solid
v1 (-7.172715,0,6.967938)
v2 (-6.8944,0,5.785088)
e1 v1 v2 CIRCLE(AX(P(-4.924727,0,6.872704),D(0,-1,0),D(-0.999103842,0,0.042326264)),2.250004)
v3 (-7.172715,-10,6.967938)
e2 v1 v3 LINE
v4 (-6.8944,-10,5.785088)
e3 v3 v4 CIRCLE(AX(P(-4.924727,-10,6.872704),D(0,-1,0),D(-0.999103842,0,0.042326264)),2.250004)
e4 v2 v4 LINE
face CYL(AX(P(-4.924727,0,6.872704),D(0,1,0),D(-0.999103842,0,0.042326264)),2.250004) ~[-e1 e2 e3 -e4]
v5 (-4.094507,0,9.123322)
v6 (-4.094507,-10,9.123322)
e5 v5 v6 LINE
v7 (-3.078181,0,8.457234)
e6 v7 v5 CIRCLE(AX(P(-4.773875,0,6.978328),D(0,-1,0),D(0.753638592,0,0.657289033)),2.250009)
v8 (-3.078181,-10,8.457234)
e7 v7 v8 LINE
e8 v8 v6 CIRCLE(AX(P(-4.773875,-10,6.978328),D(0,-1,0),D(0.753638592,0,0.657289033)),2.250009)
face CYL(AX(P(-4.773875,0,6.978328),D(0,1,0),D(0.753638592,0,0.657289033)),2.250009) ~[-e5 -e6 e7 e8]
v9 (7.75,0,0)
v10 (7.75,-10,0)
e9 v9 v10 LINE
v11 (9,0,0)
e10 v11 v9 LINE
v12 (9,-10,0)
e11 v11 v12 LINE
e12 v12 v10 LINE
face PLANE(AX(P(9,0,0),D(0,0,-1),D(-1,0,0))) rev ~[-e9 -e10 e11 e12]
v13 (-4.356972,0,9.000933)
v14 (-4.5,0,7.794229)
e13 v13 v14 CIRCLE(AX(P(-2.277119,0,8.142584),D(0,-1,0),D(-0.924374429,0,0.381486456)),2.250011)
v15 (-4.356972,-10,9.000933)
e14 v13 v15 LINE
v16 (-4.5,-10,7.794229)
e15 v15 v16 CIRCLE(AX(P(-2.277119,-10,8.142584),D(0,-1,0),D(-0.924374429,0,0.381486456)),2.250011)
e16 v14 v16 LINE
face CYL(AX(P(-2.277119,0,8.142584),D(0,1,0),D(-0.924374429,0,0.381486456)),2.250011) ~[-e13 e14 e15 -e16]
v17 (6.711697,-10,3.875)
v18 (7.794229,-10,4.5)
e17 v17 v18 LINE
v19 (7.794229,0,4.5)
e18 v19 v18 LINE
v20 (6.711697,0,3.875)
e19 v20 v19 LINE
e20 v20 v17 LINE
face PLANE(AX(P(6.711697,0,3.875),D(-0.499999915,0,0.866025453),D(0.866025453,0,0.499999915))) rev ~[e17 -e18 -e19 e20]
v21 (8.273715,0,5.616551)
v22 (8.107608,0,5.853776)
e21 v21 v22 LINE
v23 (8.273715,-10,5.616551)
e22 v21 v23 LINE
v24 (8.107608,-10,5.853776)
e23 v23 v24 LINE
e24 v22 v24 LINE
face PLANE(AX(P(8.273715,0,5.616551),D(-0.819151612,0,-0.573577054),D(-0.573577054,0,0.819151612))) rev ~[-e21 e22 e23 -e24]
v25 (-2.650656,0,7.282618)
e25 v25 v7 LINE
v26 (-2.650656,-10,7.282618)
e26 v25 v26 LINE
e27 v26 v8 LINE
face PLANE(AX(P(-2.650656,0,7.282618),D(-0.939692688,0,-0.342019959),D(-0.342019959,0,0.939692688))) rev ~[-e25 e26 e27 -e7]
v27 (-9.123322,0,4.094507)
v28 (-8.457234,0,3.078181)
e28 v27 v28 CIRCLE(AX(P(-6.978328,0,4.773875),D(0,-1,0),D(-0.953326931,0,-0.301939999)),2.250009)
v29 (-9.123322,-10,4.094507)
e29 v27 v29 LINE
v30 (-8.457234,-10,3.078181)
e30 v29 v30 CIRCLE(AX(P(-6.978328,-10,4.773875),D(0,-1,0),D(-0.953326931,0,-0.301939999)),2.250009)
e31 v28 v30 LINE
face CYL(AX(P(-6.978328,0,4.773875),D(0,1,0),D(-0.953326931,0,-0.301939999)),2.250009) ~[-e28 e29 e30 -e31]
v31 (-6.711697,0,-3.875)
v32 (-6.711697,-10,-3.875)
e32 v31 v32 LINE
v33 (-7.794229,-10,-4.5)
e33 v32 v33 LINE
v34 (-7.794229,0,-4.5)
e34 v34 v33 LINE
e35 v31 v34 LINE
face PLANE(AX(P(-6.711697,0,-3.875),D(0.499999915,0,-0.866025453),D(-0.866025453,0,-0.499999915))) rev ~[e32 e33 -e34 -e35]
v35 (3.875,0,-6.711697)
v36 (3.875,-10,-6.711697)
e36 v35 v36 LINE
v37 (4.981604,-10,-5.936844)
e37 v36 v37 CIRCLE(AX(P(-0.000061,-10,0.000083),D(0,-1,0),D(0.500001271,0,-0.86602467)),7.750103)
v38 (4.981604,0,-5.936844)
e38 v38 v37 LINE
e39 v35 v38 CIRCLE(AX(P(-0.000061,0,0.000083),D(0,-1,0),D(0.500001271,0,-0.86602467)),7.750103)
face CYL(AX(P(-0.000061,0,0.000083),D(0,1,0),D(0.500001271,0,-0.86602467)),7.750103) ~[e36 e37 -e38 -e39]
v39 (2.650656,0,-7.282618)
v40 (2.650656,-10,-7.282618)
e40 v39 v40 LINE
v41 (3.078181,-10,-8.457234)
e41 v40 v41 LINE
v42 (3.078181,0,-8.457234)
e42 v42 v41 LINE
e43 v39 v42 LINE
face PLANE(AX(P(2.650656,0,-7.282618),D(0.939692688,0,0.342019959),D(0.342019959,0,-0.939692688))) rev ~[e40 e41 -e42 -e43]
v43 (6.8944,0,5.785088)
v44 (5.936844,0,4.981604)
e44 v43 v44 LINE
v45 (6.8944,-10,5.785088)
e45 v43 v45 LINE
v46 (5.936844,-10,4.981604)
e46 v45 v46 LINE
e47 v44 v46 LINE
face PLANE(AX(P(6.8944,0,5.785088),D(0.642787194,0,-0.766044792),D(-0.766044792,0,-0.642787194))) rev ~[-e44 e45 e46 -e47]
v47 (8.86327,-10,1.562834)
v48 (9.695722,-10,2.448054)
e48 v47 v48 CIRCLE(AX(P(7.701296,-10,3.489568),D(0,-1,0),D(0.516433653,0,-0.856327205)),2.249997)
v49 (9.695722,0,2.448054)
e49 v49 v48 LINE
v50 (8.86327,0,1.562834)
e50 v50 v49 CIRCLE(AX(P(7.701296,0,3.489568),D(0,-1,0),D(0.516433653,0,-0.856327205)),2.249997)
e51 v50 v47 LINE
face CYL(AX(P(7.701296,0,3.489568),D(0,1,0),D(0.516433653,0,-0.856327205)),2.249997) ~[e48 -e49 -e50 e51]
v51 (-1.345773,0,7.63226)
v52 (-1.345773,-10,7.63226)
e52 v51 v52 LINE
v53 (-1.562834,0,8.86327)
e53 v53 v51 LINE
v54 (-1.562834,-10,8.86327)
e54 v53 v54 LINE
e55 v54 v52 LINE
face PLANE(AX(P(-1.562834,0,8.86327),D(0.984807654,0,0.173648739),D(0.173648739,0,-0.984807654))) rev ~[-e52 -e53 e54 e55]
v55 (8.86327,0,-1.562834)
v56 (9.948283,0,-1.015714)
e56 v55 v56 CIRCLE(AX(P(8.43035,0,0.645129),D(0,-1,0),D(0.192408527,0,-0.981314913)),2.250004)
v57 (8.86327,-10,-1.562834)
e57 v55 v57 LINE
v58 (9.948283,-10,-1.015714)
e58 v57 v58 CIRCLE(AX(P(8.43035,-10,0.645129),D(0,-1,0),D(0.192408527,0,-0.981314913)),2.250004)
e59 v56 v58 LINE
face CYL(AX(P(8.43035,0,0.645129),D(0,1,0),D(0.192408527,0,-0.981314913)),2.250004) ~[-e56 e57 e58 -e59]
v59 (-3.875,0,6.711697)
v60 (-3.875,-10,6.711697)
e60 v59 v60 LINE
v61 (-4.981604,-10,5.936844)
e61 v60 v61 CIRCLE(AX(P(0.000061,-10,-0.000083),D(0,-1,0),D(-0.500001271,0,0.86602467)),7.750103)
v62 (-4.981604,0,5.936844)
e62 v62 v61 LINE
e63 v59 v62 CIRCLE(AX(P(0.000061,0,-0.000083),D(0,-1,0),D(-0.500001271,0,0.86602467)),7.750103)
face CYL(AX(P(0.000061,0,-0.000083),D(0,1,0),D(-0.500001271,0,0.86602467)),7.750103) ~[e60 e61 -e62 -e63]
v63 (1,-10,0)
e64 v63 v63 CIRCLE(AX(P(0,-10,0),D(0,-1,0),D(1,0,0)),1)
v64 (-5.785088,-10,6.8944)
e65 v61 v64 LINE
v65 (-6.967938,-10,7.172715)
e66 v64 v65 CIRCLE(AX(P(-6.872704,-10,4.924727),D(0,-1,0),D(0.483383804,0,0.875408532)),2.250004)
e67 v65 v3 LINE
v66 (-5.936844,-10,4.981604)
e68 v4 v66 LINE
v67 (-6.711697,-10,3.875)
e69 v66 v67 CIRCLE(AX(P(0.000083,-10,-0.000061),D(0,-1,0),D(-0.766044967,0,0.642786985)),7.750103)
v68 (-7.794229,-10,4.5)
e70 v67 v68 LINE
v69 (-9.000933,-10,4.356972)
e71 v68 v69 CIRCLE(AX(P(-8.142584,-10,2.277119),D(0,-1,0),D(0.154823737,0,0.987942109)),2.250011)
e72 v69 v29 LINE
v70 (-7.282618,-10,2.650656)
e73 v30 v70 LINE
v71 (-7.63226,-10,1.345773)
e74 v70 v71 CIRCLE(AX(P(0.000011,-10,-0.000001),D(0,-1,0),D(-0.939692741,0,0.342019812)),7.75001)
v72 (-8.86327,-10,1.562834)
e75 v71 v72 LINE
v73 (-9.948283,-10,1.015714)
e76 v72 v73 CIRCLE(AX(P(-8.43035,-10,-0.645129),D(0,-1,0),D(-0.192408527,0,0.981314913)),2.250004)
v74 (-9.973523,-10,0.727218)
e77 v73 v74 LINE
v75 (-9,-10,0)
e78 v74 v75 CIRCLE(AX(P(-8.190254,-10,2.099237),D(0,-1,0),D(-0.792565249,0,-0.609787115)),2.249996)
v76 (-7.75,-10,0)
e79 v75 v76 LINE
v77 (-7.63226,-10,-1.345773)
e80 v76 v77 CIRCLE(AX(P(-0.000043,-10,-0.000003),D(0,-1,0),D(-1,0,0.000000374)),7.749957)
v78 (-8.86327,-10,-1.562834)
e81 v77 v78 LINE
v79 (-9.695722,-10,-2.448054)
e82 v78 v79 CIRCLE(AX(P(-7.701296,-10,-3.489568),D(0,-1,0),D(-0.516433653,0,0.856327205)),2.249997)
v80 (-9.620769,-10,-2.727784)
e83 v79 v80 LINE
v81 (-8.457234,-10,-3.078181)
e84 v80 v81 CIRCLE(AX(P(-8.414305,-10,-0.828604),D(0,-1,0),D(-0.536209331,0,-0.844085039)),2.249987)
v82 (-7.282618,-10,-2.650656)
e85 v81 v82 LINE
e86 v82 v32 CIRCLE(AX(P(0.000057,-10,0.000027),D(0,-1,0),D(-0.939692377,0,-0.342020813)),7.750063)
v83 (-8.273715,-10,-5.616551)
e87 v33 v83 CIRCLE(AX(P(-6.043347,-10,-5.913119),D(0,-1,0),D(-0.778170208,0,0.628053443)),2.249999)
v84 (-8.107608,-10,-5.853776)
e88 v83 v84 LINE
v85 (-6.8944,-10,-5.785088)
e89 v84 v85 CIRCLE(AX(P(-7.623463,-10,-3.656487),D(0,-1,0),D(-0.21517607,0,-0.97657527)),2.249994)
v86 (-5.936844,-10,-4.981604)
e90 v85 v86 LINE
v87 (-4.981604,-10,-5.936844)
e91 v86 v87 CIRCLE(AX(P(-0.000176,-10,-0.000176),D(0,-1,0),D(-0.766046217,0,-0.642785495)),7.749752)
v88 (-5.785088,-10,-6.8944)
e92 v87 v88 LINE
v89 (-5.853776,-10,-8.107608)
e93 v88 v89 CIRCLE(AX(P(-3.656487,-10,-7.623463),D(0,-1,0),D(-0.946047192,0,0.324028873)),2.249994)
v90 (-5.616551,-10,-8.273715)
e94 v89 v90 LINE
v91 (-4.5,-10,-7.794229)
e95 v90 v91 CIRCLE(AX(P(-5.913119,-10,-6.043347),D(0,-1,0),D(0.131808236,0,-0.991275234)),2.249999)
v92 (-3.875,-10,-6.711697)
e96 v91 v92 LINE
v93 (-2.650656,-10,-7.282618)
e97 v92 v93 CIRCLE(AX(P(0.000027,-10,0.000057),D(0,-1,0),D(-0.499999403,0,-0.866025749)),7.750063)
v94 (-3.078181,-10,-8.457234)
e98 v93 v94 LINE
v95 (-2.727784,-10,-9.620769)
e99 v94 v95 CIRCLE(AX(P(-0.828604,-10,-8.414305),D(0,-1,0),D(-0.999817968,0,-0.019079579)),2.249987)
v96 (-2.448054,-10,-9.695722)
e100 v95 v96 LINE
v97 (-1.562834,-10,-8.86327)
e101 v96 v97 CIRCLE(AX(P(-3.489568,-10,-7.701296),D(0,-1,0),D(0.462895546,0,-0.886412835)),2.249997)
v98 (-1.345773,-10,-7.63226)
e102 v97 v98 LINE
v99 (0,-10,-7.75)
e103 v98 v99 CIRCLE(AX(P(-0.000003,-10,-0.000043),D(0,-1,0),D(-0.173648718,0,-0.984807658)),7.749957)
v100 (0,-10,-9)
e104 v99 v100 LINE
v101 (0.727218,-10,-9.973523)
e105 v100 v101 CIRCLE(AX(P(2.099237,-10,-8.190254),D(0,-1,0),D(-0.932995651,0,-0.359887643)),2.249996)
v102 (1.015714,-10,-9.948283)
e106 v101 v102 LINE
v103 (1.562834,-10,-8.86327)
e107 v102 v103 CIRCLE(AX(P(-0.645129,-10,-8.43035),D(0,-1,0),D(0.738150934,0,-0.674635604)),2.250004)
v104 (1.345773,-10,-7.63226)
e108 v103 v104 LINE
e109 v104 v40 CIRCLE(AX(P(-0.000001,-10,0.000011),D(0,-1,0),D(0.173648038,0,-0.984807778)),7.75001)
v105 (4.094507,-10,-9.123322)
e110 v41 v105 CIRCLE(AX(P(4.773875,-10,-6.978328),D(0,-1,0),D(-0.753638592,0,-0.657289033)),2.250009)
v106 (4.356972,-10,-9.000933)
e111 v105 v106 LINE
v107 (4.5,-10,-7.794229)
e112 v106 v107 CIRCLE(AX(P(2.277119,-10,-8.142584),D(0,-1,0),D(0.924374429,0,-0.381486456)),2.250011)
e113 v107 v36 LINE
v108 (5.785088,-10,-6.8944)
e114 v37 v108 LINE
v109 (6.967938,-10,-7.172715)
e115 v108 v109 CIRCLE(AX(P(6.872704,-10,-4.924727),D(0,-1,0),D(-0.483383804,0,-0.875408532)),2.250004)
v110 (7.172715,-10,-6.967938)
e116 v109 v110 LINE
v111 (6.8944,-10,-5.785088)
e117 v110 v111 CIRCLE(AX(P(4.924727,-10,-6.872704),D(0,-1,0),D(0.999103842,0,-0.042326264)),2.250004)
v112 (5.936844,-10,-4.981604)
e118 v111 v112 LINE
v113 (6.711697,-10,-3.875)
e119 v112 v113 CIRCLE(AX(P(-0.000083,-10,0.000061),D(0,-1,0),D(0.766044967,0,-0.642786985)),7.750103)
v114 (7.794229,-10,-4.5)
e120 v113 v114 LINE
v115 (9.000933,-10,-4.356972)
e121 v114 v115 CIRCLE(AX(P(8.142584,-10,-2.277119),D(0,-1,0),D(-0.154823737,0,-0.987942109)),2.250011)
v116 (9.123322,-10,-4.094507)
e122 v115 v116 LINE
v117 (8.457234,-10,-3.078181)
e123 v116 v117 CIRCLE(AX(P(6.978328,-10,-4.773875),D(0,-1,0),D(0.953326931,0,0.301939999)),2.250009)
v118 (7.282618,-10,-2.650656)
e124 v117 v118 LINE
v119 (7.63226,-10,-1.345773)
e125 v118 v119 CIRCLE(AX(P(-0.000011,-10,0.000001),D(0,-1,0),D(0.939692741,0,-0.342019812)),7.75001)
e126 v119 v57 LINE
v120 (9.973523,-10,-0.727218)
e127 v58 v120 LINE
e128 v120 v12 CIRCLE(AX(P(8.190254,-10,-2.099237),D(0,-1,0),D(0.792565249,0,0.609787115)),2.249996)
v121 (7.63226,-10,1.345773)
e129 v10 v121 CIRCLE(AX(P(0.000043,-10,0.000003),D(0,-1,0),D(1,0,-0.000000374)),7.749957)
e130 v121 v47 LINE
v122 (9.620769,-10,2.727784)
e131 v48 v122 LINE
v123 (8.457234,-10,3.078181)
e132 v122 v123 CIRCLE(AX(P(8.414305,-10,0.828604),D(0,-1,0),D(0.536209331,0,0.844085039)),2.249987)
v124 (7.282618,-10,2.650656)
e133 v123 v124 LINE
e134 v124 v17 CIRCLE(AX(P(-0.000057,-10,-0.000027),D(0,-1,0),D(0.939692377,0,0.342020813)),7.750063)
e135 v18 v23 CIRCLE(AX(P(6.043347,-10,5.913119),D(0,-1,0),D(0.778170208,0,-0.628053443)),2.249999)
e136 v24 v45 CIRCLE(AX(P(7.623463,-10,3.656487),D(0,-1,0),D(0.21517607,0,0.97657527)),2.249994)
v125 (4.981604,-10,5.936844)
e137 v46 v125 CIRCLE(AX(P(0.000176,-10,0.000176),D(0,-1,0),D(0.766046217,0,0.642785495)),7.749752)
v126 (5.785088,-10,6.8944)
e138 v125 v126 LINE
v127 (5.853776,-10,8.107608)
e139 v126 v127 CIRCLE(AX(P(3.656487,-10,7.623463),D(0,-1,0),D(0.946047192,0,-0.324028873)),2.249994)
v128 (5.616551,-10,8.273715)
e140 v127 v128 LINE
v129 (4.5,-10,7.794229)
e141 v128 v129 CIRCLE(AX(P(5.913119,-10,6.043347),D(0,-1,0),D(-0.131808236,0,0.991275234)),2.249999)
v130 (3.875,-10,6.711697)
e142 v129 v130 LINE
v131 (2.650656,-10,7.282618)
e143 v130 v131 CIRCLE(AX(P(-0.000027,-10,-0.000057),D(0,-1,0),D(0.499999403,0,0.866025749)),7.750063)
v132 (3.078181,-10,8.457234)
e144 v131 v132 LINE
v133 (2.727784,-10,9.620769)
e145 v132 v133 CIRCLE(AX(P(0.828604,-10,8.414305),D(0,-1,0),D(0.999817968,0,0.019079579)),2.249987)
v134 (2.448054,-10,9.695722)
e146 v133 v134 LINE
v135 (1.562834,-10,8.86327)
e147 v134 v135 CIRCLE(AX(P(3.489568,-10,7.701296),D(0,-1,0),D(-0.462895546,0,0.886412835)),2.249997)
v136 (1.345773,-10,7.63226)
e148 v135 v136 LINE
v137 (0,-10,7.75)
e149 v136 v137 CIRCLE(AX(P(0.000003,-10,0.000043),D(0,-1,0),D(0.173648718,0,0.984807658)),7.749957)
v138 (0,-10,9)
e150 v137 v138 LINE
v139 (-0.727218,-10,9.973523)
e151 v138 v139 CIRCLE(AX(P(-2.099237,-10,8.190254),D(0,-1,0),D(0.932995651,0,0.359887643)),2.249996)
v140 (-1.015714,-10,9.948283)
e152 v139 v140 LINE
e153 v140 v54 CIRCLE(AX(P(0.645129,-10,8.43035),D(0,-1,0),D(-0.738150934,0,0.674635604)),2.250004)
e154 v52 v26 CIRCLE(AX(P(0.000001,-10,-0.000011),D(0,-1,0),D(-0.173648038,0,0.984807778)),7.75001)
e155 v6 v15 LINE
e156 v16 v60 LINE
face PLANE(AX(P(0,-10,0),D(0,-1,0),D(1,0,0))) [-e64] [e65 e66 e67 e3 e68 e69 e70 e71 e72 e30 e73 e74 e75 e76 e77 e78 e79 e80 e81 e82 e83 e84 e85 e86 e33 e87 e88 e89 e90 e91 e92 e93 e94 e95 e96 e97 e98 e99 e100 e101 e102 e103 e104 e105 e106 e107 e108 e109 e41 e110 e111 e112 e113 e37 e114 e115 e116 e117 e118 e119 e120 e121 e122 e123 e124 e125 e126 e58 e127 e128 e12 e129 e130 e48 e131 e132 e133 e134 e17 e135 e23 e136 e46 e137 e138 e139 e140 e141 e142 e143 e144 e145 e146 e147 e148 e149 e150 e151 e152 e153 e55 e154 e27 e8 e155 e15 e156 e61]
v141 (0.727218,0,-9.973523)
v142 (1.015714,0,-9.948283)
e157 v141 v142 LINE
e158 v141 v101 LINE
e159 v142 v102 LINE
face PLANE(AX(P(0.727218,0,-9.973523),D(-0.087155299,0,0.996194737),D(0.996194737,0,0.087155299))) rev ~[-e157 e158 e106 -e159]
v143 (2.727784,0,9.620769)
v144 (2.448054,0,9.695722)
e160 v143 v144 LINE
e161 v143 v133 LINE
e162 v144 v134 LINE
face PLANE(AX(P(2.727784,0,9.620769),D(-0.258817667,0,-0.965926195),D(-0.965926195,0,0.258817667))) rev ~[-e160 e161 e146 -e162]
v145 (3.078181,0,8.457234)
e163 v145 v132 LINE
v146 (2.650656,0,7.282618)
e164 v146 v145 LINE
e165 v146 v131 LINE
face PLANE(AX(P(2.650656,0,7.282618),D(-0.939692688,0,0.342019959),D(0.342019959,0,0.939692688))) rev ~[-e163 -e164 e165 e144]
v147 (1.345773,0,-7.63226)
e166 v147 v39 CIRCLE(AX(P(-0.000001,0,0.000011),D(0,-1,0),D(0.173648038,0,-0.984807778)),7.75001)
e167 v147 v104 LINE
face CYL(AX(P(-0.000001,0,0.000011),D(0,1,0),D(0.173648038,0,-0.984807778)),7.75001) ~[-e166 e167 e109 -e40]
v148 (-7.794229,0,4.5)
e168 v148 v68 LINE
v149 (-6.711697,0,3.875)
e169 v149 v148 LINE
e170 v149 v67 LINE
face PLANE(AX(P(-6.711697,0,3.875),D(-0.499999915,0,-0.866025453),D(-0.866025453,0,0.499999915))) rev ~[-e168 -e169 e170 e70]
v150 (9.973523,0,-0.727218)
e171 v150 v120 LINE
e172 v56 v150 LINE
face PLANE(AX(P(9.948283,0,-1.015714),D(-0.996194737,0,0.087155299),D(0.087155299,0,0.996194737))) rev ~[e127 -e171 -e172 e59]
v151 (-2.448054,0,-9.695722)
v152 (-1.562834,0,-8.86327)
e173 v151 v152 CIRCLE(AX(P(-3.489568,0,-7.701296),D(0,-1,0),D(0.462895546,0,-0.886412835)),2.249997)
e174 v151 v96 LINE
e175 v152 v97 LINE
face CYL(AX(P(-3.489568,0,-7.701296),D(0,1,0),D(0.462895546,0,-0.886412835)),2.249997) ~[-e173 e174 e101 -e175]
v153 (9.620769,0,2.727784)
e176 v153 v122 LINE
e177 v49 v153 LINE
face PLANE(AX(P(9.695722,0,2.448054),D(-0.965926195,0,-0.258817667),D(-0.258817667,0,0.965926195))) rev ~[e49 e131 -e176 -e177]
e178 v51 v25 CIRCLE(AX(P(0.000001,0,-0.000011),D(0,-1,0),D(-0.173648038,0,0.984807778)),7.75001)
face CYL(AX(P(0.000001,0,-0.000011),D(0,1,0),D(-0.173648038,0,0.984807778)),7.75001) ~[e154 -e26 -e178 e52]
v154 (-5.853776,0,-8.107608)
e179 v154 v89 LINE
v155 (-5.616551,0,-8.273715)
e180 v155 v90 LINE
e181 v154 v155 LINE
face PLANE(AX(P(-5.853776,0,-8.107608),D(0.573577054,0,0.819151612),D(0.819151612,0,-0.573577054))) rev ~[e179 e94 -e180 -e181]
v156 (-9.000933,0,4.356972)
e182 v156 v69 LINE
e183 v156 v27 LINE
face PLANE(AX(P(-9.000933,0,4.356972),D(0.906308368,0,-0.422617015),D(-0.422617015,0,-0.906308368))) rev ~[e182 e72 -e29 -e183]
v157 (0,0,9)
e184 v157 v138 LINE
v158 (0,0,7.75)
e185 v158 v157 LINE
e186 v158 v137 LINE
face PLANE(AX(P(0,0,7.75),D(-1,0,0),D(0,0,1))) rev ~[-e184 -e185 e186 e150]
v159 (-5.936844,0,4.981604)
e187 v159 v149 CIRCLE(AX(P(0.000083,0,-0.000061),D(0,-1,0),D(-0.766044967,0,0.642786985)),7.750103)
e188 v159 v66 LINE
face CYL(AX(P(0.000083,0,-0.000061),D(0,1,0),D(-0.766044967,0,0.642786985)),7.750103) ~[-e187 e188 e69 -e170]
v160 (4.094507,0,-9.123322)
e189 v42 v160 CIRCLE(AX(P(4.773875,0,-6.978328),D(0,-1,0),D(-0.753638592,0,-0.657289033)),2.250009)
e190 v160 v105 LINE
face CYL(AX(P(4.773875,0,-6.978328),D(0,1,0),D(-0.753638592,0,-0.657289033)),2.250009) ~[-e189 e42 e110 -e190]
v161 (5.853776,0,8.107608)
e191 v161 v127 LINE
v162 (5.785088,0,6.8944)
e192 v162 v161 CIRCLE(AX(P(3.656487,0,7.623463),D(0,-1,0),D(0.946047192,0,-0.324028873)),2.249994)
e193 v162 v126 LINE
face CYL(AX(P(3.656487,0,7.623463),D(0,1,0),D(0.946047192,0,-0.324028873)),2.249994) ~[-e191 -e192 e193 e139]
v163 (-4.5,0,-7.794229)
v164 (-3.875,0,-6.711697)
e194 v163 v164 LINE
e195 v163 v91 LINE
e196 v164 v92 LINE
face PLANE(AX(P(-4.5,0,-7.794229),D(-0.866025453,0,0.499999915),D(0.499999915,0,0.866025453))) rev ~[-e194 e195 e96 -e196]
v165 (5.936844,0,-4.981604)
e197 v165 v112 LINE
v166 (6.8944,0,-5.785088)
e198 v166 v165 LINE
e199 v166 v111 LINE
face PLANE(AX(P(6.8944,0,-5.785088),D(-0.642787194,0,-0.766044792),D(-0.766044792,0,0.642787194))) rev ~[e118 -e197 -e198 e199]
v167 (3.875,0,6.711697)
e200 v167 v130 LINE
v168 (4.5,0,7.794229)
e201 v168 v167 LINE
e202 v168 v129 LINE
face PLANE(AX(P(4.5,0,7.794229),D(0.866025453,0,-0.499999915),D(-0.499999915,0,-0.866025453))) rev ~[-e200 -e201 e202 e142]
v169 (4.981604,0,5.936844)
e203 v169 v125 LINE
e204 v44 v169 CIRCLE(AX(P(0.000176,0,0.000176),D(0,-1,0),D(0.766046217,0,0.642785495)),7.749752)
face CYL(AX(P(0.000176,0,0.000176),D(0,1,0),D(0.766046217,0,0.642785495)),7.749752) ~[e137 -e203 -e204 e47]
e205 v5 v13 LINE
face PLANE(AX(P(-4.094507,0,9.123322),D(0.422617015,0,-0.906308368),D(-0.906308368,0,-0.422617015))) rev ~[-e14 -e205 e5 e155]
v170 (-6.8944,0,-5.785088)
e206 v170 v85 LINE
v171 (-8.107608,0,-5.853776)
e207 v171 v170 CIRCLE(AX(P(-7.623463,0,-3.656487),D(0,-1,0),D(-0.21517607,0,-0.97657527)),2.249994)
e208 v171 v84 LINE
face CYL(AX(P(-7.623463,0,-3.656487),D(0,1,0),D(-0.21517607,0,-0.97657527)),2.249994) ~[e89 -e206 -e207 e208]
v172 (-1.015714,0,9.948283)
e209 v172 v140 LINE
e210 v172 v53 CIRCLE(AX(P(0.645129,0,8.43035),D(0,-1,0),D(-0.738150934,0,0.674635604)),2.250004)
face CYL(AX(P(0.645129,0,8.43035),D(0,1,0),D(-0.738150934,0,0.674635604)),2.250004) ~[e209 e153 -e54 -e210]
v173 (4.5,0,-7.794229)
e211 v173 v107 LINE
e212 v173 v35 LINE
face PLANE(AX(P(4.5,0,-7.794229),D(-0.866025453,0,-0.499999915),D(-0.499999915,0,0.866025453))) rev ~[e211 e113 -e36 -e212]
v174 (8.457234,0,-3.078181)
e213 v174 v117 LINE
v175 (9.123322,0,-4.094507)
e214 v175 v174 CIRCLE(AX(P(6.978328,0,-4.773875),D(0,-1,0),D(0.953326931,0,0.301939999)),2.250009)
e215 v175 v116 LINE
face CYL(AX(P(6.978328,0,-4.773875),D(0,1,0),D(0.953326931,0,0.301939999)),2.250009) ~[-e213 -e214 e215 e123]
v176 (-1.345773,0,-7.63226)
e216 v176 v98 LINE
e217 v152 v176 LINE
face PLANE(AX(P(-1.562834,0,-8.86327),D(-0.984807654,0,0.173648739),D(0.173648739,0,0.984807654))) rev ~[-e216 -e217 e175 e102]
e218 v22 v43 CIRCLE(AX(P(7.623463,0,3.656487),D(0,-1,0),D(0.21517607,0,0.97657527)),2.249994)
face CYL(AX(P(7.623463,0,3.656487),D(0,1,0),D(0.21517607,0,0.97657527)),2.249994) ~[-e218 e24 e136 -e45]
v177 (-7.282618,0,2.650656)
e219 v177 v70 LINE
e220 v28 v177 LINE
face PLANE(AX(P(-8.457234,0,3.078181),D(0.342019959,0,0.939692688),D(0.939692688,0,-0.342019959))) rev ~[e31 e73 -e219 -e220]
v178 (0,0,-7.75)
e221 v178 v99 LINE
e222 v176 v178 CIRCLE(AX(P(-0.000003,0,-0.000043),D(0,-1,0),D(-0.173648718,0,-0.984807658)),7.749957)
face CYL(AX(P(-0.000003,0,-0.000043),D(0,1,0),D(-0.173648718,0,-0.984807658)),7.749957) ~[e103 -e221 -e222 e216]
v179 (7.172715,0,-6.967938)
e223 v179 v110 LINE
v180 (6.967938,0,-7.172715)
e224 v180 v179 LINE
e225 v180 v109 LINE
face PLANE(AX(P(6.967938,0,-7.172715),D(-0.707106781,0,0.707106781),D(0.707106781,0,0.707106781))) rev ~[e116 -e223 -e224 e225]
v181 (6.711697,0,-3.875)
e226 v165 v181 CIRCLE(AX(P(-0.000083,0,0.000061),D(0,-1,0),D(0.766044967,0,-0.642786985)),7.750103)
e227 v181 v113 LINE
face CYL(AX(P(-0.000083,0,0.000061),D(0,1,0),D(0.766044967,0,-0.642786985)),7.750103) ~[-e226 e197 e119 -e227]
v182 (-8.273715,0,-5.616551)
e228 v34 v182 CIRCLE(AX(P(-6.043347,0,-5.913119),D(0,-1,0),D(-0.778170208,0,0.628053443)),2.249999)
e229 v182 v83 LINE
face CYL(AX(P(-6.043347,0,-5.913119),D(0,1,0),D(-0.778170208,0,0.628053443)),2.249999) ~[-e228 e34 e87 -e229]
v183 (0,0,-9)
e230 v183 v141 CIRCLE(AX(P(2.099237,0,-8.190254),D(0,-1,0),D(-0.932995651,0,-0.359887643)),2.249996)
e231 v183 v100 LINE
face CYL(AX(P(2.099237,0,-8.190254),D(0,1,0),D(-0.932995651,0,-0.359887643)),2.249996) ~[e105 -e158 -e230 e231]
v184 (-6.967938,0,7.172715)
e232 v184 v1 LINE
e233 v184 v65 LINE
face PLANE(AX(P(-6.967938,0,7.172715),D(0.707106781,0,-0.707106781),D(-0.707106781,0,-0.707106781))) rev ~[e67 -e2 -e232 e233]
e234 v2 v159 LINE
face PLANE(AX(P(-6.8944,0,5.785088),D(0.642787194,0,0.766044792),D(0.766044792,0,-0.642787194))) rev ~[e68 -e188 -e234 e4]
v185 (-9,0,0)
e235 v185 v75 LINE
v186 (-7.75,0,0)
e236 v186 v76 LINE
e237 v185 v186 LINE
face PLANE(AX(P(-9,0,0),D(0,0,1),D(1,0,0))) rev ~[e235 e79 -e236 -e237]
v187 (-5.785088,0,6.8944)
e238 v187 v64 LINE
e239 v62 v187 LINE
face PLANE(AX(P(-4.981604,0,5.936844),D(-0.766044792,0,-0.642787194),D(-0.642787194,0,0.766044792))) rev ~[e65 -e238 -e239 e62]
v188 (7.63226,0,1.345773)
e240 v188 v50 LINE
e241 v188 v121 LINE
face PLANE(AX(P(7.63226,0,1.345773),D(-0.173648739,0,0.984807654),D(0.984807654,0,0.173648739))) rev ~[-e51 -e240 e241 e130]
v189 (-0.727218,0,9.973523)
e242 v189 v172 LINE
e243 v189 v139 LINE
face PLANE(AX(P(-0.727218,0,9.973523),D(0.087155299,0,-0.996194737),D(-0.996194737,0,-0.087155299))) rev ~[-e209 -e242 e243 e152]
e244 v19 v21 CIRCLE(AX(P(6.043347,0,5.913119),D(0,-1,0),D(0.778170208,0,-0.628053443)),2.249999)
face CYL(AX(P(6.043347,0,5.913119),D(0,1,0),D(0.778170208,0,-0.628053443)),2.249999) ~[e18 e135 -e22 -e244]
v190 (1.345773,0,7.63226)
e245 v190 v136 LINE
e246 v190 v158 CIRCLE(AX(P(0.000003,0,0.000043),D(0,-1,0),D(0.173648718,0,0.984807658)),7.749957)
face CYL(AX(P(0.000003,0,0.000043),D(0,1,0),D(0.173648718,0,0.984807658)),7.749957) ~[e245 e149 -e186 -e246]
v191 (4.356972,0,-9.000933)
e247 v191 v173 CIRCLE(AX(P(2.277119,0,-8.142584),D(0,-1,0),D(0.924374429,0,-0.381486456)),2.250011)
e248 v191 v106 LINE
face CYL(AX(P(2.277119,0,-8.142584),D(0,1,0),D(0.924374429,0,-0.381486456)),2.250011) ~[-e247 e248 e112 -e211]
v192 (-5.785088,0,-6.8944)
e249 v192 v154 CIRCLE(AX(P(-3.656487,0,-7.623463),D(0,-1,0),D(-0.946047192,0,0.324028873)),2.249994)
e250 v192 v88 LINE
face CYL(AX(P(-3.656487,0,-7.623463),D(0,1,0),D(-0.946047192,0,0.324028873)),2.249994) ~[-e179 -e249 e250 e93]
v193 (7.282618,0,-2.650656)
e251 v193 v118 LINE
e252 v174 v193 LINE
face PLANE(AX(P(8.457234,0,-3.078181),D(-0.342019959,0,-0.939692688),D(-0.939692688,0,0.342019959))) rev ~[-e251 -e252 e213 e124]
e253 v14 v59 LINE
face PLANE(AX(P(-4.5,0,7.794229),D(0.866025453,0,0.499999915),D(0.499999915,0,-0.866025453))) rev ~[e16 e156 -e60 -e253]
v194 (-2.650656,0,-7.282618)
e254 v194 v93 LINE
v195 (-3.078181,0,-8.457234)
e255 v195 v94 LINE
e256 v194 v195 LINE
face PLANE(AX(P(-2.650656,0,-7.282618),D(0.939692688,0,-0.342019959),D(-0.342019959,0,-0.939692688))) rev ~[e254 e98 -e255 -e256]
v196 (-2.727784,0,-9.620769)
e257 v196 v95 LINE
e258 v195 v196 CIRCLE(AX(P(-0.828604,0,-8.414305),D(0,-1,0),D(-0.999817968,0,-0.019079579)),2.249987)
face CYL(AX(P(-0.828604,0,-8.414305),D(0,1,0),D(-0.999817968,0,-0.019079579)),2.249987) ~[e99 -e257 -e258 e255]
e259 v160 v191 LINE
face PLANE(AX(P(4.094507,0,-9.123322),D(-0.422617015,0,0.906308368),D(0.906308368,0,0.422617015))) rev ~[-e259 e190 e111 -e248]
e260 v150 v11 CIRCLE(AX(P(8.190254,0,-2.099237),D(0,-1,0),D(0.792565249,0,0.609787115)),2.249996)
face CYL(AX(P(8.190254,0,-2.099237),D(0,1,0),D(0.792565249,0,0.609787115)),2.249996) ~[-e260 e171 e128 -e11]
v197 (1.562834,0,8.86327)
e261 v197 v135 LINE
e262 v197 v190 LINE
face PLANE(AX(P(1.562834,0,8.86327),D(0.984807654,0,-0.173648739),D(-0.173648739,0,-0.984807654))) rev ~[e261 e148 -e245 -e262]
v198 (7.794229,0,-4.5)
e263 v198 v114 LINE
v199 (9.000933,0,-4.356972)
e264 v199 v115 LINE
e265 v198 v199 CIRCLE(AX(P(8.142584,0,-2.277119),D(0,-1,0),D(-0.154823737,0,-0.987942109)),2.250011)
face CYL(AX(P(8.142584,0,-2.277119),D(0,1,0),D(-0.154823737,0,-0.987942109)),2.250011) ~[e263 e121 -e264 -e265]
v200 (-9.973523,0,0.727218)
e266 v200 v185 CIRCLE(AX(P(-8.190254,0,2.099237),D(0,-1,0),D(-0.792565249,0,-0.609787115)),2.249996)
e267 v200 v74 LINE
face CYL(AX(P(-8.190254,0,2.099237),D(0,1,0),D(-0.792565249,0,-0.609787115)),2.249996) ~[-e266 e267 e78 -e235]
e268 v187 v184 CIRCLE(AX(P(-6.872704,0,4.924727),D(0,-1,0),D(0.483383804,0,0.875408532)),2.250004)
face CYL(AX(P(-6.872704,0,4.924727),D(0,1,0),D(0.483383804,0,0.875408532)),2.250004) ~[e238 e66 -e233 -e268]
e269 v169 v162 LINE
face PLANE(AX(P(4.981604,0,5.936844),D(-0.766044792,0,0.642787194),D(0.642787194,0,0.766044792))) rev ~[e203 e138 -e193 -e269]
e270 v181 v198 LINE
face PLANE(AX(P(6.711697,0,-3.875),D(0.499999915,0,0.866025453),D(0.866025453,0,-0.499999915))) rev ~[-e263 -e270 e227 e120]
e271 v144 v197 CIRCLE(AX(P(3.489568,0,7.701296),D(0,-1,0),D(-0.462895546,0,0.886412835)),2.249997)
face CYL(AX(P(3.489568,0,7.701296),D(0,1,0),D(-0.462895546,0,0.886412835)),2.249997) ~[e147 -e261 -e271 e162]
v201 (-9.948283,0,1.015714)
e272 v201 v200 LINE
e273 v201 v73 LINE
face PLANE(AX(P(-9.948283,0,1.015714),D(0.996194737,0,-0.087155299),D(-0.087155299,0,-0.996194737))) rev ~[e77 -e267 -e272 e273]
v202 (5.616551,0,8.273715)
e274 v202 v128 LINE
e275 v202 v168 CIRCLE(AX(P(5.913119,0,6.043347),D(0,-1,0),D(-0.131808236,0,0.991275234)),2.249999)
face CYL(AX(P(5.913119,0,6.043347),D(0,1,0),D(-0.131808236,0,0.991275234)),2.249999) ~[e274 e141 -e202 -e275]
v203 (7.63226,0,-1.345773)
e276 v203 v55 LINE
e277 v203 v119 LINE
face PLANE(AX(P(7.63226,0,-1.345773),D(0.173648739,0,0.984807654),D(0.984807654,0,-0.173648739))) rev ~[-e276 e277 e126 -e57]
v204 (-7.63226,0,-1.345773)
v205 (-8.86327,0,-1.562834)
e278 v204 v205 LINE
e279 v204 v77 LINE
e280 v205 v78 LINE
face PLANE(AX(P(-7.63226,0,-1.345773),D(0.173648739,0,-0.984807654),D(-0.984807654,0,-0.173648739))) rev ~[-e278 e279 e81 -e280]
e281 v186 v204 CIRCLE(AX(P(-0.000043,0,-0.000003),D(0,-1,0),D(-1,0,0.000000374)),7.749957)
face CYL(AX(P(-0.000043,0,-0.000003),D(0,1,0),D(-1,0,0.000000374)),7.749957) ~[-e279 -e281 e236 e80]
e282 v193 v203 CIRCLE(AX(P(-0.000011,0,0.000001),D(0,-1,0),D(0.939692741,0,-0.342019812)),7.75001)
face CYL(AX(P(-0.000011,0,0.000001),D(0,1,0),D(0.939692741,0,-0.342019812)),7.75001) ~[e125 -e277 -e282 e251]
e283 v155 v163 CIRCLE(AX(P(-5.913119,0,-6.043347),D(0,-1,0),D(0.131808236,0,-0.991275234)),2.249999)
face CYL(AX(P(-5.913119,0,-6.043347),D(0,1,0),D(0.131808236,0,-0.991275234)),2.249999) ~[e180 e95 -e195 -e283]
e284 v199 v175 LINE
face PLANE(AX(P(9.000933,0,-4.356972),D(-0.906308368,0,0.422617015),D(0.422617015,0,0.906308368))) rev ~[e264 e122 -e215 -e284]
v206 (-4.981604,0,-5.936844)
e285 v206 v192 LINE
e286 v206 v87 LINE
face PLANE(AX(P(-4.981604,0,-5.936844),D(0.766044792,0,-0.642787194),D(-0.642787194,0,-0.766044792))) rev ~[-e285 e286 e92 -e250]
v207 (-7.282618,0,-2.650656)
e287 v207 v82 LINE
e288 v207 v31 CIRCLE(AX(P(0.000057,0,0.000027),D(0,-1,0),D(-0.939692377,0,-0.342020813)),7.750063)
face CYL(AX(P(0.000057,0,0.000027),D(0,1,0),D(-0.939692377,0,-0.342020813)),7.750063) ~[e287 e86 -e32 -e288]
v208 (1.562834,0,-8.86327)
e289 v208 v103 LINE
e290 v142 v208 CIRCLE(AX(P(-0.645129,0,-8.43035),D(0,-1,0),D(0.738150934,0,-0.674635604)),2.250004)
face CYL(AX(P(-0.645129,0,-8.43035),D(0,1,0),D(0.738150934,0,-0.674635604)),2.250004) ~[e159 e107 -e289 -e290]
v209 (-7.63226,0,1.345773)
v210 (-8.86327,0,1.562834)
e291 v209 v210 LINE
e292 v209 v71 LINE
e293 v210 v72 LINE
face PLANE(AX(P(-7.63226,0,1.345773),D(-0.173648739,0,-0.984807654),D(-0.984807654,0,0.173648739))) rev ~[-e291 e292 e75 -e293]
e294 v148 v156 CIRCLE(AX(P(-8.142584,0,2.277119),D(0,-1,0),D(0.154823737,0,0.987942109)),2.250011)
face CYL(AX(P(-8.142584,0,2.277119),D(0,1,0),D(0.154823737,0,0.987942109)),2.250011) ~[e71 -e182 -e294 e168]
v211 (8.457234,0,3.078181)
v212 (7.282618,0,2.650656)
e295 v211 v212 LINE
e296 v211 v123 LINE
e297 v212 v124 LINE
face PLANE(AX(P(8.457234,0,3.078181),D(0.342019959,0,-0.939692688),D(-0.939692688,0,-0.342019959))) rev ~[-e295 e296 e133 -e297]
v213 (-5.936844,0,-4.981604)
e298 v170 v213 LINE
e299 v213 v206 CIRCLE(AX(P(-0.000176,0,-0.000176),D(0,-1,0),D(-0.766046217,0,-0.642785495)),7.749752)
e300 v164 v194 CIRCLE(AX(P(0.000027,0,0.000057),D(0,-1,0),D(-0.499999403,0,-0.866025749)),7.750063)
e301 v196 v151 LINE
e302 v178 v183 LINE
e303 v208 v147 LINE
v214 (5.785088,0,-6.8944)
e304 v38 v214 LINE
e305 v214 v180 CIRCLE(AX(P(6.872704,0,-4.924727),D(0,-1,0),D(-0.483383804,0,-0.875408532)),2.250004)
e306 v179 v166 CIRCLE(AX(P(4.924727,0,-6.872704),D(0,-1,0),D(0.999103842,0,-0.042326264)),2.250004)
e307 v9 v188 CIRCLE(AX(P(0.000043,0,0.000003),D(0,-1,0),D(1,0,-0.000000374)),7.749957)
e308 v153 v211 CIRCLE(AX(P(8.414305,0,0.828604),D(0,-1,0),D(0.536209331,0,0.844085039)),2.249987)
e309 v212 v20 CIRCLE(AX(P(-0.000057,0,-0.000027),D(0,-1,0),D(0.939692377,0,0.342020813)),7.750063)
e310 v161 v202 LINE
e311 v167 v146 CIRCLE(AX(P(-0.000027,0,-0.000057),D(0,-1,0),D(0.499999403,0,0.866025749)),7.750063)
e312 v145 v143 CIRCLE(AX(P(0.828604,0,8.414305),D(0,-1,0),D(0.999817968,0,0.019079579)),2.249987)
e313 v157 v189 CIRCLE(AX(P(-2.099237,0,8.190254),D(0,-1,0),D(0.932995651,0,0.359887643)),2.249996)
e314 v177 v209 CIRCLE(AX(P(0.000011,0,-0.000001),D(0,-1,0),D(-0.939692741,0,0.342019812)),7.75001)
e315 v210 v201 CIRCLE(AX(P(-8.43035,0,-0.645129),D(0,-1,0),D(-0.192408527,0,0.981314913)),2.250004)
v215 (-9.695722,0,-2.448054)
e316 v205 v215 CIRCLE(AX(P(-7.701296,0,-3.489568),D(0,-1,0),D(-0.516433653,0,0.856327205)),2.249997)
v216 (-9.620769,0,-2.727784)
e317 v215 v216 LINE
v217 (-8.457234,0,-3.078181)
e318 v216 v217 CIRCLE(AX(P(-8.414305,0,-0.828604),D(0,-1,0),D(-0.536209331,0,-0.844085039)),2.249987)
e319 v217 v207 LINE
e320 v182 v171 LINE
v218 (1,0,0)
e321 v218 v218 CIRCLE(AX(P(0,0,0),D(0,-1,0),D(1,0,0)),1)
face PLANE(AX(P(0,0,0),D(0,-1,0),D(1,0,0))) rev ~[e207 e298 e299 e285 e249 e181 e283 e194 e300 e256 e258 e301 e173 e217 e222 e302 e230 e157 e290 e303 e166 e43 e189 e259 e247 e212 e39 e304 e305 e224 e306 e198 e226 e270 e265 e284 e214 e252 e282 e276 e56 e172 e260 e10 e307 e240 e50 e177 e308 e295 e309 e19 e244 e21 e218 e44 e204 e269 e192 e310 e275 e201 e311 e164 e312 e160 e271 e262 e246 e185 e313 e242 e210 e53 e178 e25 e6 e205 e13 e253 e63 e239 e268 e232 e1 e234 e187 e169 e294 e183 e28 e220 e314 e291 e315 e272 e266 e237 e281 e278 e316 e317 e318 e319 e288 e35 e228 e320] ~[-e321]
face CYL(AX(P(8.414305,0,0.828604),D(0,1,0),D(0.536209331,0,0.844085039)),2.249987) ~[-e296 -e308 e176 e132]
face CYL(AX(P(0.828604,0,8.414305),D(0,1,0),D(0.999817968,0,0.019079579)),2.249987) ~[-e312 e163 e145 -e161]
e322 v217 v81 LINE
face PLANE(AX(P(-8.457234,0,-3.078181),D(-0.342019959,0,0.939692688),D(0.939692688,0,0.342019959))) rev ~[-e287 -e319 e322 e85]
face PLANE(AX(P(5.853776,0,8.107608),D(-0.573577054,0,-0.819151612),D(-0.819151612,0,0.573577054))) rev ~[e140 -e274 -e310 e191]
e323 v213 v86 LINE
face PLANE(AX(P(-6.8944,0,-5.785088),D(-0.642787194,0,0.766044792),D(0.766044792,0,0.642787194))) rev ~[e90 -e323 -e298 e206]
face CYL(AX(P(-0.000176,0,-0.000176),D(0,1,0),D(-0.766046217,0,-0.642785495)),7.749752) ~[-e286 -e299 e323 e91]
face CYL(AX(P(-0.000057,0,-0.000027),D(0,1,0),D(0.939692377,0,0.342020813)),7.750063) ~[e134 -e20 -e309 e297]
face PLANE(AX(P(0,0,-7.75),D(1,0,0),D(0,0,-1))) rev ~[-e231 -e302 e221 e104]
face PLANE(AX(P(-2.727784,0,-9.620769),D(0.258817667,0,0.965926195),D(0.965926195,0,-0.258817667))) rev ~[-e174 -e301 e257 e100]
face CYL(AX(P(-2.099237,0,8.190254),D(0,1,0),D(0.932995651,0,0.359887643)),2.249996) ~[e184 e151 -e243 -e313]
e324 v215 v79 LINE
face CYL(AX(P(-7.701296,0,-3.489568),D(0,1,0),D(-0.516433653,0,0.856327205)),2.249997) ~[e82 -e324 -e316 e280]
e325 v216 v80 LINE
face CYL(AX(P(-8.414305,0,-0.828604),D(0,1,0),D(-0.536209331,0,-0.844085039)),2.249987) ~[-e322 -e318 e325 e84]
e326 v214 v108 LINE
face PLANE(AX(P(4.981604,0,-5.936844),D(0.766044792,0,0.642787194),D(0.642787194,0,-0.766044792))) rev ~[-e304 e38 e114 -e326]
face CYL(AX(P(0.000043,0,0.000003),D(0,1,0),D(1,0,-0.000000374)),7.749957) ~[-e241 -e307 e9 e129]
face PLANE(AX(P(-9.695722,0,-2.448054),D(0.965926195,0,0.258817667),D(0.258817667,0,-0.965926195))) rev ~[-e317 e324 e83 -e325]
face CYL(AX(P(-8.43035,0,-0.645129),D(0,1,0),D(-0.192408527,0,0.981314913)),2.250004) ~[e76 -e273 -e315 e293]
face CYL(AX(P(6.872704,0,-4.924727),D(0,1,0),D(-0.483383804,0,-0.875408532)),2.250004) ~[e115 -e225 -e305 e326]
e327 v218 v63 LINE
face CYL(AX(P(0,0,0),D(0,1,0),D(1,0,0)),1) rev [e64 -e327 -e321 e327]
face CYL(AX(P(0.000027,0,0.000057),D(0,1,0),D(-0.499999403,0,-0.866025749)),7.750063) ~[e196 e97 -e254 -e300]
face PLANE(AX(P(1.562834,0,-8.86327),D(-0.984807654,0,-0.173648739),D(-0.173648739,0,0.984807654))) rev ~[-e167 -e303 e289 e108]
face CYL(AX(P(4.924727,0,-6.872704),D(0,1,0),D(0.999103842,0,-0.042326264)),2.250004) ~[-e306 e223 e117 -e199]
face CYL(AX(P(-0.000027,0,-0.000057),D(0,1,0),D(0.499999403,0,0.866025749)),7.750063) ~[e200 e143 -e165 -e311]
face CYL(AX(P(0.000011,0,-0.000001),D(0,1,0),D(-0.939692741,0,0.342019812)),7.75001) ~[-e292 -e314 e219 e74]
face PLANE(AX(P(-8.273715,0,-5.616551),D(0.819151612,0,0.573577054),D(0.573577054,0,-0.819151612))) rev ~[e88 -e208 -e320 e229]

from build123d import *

# Parameters (mm, degrees)
F0_R     = 1
F1_DEPTH = 10


with BuildPart() as f1:
    # F0 (on Front) → F1 (new body)
    with BuildSketch(Plane.XZ):
        with BuildLine():
            Line((-1.562834, 8.86327), (-1.345773, 7.63226))
            ThreePointArc((-1.345773, 7.63226), (-2.005848, 7.485925), (-2.650656, 7.282618))
            Line((-2.650656, 7.282618), (-3.078181, 8.457234))
            ThreePointArc((-3.078181, 8.457234), (-3.540527, 8.860187), (-4.094507, 9.123322))
            Line((-4.094507, 9.123322), (-4.356972, 9.000933))
            ThreePointArc((-4.356972, 9.000933), (-4.51149, 8.407419), (-4.5, 7.794229))
            Line((-4.5, 7.794229), (-3.875, 6.711697))
            ThreePointArc((-3.875, 6.711697), (-4.445217, 6.348428), (-4.981604, 5.936844))
            Line((-4.981604, 5.936844), (-5.785088, 6.8944))
            ThreePointArc((-5.785088, 6.8944), (-6.357369, 7.114921), (-6.967938, 7.172715))
            Line((-6.967938, 7.172715), (-7.172715, 6.967938))
            ThreePointArc((-7.172715, 6.967938), (-7.114921, 6.357369), (-6.8944, 5.785088))
            Line((-6.8944, 5.785088), (-5.936844, 4.981604))
            ThreePointArc((-5.936844, 4.981604), (-6.348428, 4.445217), (-6.711697, 3.875))
            Line((-6.711697, 3.875), (-7.794229, 4.5))
            ThreePointArc((-7.794229, 4.5), (-8.407419, 4.51149), (-9.000933, 4.356972))
            Line((-9.000933, 4.356972), (-9.123322, 4.094507))
            ThreePointArc((-9.123322, 4.094507), (-8.860187, 3.540527), (-8.457234, 3.078181))
            Line((-8.457234, 3.078181), (-7.282618, 2.650656))
            ThreePointArc((-7.282618, 2.650656), (-7.485925, 2.005848), (-7.63226, 1.345773))
            Line((-7.63226, 1.345773), (-8.86327, 1.562834))
            ThreePointArc((-8.86327, 1.562834), (-9.44341, 1.363908), (-9.948283, 1.015714))
            Line((-9.948283, 1.015714), (-9.973523, 0.727218))
            ThreePointArc((-9.973523, 0.727218), (-9.536784, 0.296644), (-9, 0))
            Line((-9, 0), (-7.75, 0))
            ThreePointArc((-7.75, 0), (-7.720509, -0.675457), (-7.63226, -1.345773))
            Line((-7.63226, -1.345773), (-8.86327, -1.562834))
            ThreePointArc((-8.86327, -1.562834), (-9.340387, -1.948183), (-9.695722, -2.448054))
            Line((-9.695722, -2.448054), (-9.620769, -2.727784))
            ThreePointArc((-9.620769, -2.727784), (-9.063104, -2.983018), (-8.457234, -3.078181))
            Line((-8.457234, -3.078181), (-7.282618, -2.650656))
            ThreePointArc((-7.282618, -2.650656), (-7.023885, -3.275292), (-6.711697, -3.875))
            Line((-6.711697, -3.875), (-7.794229, -4.5))
            ThreePointArc((-7.794229, -4.5), (-8.110775, -5.025293), (-8.273715, -5.616551))
            Line((-8.273715, -5.616551), (-8.107608, -5.853776))
            ThreePointArc((-8.107608, -5.853776), (-7.496279, -5.902884), (-6.8944, -5.785088))
            Line((-6.8944, -5.785088), (-5.936844, -4.981604))
            ThreePointArc((-5.936844, -4.981604), (-5.480078, -5.480078), (-4.981604, -5.936844))
            Line((-4.981604, -5.936844), (-5.785088, -6.8944))
            ThreePointArc((-5.785088, -6.8944), (-5.902884, -7.496279), (-5.853776, -8.107608))
            Line((-5.853776, -8.107608), (-5.616551, -8.273715))
            ThreePointArc((-5.616551, -8.273715), (-5.025293, -8.110775), (-4.5, -7.794229))
            Line((-4.5, -7.794229), (-3.875, -6.711697))
            ThreePointArc((-3.875, -6.711697), (-3.275292, -7.023885), (-2.650656, -7.282618))
            Line((-2.650656, -7.282618), (-3.078181, -8.457234))
            ThreePointArc((-3.078181, -8.457234), (-2.983018, -9.063104), (-2.727784, -9.620769))
            Line((-2.727784, -9.620769), (-2.448054, -9.695722))
            ThreePointArc((-2.448054, -9.695722), (-1.948183, -9.340387), (-1.562834, -8.86327))
            Line((-1.562834, -8.86327), (-1.345773, -7.63226))
            ThreePointArc((-1.345773, -7.63226), (-0.675457, -7.720509), (0, -7.75))
            Line((0, -7.75), (0, -9))
            ThreePointArc((0, -9), (0.296644, -9.536784), (0.727218, -9.973523))
            Line((0.727218, -9.973523), (1.015714, -9.948283))
            ThreePointArc((1.015714, -9.948283), (1.363908, -9.44341), (1.562834, -8.86327))
            Line((1.562834, -8.86327), (1.345773, -7.63226))
            ThreePointArc((1.345773, -7.63226), (2.005848, -7.485925), (2.650656, -7.282618))
            Line((2.650656, -7.282618), (3.078181, -8.457234))
            ThreePointArc((3.078181, -8.457234), (3.540527, -8.860187), (4.094507, -9.123322))
            Line((4.094507, -9.123322), (4.356972, -9.000933))
            ThreePointArc((4.356972, -9.000933), (4.51149, -8.407419), (4.5, -7.794229))
            Line((4.5, -7.794229), (3.875, -6.711697))
            ThreePointArc((3.875, -6.711697), (4.445217, -6.348428), (4.981604, -5.936844))
            Line((4.981604, -5.936844), (5.785088, -6.8944))
            ThreePointArc((5.785088, -6.8944), (6.357369, -7.114921), (6.967938, -7.172715))
            Line((6.967938, -7.172715), (7.172715, -6.967938))
            ThreePointArc((7.172715, -6.967938), (7.114921, -6.357369), (6.8944, -5.785088))
            Line((6.8944, -5.785088), (5.936844, -4.981604))
            ThreePointArc((5.936844, -4.981604), (6.348428, -4.445217), (6.711697, -3.875))
            Line((6.711697, -3.875), (7.794229, -4.5))
            ThreePointArc((7.794229, -4.5), (8.407419, -4.51149), (9.000933, -4.356972))
            Line((9.000933, -4.356972), (9.123322, -4.094507))
            ThreePointArc((9.123322, -4.094507), (8.860187, -3.540527), (8.457234, -3.078181))
            Line((8.457234, -3.078181), (7.282618, -2.650656))
            ThreePointArc((7.282618, -2.650656), (7.485925, -2.005848), (7.63226, -1.345773))
            Line((7.63226, -1.345773), (8.86327, -1.562834))
            ThreePointArc((8.86327, -1.562834), (9.44341, -1.363908), (9.948283, -1.015714))
            Line((9.948283, -1.015714), (9.973523, -0.727218))
            ThreePointArc((9.973523, -0.727218), (9.536784, -0.296644), (9, 0))
            Line((9, 0), (7.75, 0))
            ThreePointArc((7.75, 0), (7.720509, 0.675457), (7.63226, 1.345773))
            Line((7.63226, 1.345773), (8.86327, 1.562834))
            ThreePointArc((8.86327, 1.562834), (9.340387, 1.948183), (9.695722, 2.448054))
            Line((9.695722, 2.448054), (9.620769, 2.727784))
            ThreePointArc((9.620769, 2.727784), (9.063104, 2.983018), (8.457234, 3.078181))
            Line((8.457234, 3.078181), (7.282618, 2.650656))
            ThreePointArc((7.282618, 2.650656), (7.023885, 3.275292), (6.711697, 3.875))
            Line((6.711697, 3.875), (7.794229, 4.5))
            ThreePointArc((7.794229, 4.5), (8.110775, 5.025293), (8.273715, 5.616551))
            Line((8.273715, 5.616551), (8.107608, 5.853776))
            ThreePointArc((8.107608, 5.853776), (7.496279, 5.902884), (6.8944, 5.785088))
            Line((6.8944, 5.785088), (5.936844, 4.981604))
            ThreePointArc((5.936844, 4.981604), (5.480078, 5.480078), (4.981604, 5.936844))
            Line((4.981604, 5.936844), (5.785088, 6.8944))
            ThreePointArc((5.785088, 6.8944), (5.902884, 7.496279), (5.853776, 8.107608))
            Line((5.853776, 8.107608), (5.616551, 8.273715))
            ThreePointArc((5.616551, 8.273715), (5.025293, 8.110775), (4.5, 7.794229))
            Line((4.5, 7.794229), (3.875, 6.711697))
            ThreePointArc((3.875, 6.711697), (3.275292, 7.023885), (2.650656, 7.282618))
            Line((2.650656, 7.282618), (3.078181, 8.457234))
            ThreePointArc((3.078181, 8.457234), (2.983018, 9.063104), (2.727784, 9.620769))
            Line((2.727784, 9.620769), (2.448054, 9.695722))
            ThreePointArc((2.448054, 9.695722), (1.948183, 9.340387), (1.562834, 8.86327))
            Line((1.562834, 8.86327), (1.345773, 7.63226))
            ThreePointArc((1.345773, 7.63226), (0.675457, 7.720509), (0, 7.75))
            Line((0, 7.75), (0, 9))
            ThreePointArc((0, 9), (-0.296644, 9.536784), (-0.727218, 9.973523))
            Line((-0.727218, 9.973523), (-1.015714, 9.948283))
            ThreePointArc((-1.015714, 9.948283), (-1.363908, 9.44341), (-1.562834, 8.86327))
        make_face()
        Circle(F0_R, mode=Mode.SUBTRACT)
    extrude(amount=F1_DEPTH)


solid = f1.part
